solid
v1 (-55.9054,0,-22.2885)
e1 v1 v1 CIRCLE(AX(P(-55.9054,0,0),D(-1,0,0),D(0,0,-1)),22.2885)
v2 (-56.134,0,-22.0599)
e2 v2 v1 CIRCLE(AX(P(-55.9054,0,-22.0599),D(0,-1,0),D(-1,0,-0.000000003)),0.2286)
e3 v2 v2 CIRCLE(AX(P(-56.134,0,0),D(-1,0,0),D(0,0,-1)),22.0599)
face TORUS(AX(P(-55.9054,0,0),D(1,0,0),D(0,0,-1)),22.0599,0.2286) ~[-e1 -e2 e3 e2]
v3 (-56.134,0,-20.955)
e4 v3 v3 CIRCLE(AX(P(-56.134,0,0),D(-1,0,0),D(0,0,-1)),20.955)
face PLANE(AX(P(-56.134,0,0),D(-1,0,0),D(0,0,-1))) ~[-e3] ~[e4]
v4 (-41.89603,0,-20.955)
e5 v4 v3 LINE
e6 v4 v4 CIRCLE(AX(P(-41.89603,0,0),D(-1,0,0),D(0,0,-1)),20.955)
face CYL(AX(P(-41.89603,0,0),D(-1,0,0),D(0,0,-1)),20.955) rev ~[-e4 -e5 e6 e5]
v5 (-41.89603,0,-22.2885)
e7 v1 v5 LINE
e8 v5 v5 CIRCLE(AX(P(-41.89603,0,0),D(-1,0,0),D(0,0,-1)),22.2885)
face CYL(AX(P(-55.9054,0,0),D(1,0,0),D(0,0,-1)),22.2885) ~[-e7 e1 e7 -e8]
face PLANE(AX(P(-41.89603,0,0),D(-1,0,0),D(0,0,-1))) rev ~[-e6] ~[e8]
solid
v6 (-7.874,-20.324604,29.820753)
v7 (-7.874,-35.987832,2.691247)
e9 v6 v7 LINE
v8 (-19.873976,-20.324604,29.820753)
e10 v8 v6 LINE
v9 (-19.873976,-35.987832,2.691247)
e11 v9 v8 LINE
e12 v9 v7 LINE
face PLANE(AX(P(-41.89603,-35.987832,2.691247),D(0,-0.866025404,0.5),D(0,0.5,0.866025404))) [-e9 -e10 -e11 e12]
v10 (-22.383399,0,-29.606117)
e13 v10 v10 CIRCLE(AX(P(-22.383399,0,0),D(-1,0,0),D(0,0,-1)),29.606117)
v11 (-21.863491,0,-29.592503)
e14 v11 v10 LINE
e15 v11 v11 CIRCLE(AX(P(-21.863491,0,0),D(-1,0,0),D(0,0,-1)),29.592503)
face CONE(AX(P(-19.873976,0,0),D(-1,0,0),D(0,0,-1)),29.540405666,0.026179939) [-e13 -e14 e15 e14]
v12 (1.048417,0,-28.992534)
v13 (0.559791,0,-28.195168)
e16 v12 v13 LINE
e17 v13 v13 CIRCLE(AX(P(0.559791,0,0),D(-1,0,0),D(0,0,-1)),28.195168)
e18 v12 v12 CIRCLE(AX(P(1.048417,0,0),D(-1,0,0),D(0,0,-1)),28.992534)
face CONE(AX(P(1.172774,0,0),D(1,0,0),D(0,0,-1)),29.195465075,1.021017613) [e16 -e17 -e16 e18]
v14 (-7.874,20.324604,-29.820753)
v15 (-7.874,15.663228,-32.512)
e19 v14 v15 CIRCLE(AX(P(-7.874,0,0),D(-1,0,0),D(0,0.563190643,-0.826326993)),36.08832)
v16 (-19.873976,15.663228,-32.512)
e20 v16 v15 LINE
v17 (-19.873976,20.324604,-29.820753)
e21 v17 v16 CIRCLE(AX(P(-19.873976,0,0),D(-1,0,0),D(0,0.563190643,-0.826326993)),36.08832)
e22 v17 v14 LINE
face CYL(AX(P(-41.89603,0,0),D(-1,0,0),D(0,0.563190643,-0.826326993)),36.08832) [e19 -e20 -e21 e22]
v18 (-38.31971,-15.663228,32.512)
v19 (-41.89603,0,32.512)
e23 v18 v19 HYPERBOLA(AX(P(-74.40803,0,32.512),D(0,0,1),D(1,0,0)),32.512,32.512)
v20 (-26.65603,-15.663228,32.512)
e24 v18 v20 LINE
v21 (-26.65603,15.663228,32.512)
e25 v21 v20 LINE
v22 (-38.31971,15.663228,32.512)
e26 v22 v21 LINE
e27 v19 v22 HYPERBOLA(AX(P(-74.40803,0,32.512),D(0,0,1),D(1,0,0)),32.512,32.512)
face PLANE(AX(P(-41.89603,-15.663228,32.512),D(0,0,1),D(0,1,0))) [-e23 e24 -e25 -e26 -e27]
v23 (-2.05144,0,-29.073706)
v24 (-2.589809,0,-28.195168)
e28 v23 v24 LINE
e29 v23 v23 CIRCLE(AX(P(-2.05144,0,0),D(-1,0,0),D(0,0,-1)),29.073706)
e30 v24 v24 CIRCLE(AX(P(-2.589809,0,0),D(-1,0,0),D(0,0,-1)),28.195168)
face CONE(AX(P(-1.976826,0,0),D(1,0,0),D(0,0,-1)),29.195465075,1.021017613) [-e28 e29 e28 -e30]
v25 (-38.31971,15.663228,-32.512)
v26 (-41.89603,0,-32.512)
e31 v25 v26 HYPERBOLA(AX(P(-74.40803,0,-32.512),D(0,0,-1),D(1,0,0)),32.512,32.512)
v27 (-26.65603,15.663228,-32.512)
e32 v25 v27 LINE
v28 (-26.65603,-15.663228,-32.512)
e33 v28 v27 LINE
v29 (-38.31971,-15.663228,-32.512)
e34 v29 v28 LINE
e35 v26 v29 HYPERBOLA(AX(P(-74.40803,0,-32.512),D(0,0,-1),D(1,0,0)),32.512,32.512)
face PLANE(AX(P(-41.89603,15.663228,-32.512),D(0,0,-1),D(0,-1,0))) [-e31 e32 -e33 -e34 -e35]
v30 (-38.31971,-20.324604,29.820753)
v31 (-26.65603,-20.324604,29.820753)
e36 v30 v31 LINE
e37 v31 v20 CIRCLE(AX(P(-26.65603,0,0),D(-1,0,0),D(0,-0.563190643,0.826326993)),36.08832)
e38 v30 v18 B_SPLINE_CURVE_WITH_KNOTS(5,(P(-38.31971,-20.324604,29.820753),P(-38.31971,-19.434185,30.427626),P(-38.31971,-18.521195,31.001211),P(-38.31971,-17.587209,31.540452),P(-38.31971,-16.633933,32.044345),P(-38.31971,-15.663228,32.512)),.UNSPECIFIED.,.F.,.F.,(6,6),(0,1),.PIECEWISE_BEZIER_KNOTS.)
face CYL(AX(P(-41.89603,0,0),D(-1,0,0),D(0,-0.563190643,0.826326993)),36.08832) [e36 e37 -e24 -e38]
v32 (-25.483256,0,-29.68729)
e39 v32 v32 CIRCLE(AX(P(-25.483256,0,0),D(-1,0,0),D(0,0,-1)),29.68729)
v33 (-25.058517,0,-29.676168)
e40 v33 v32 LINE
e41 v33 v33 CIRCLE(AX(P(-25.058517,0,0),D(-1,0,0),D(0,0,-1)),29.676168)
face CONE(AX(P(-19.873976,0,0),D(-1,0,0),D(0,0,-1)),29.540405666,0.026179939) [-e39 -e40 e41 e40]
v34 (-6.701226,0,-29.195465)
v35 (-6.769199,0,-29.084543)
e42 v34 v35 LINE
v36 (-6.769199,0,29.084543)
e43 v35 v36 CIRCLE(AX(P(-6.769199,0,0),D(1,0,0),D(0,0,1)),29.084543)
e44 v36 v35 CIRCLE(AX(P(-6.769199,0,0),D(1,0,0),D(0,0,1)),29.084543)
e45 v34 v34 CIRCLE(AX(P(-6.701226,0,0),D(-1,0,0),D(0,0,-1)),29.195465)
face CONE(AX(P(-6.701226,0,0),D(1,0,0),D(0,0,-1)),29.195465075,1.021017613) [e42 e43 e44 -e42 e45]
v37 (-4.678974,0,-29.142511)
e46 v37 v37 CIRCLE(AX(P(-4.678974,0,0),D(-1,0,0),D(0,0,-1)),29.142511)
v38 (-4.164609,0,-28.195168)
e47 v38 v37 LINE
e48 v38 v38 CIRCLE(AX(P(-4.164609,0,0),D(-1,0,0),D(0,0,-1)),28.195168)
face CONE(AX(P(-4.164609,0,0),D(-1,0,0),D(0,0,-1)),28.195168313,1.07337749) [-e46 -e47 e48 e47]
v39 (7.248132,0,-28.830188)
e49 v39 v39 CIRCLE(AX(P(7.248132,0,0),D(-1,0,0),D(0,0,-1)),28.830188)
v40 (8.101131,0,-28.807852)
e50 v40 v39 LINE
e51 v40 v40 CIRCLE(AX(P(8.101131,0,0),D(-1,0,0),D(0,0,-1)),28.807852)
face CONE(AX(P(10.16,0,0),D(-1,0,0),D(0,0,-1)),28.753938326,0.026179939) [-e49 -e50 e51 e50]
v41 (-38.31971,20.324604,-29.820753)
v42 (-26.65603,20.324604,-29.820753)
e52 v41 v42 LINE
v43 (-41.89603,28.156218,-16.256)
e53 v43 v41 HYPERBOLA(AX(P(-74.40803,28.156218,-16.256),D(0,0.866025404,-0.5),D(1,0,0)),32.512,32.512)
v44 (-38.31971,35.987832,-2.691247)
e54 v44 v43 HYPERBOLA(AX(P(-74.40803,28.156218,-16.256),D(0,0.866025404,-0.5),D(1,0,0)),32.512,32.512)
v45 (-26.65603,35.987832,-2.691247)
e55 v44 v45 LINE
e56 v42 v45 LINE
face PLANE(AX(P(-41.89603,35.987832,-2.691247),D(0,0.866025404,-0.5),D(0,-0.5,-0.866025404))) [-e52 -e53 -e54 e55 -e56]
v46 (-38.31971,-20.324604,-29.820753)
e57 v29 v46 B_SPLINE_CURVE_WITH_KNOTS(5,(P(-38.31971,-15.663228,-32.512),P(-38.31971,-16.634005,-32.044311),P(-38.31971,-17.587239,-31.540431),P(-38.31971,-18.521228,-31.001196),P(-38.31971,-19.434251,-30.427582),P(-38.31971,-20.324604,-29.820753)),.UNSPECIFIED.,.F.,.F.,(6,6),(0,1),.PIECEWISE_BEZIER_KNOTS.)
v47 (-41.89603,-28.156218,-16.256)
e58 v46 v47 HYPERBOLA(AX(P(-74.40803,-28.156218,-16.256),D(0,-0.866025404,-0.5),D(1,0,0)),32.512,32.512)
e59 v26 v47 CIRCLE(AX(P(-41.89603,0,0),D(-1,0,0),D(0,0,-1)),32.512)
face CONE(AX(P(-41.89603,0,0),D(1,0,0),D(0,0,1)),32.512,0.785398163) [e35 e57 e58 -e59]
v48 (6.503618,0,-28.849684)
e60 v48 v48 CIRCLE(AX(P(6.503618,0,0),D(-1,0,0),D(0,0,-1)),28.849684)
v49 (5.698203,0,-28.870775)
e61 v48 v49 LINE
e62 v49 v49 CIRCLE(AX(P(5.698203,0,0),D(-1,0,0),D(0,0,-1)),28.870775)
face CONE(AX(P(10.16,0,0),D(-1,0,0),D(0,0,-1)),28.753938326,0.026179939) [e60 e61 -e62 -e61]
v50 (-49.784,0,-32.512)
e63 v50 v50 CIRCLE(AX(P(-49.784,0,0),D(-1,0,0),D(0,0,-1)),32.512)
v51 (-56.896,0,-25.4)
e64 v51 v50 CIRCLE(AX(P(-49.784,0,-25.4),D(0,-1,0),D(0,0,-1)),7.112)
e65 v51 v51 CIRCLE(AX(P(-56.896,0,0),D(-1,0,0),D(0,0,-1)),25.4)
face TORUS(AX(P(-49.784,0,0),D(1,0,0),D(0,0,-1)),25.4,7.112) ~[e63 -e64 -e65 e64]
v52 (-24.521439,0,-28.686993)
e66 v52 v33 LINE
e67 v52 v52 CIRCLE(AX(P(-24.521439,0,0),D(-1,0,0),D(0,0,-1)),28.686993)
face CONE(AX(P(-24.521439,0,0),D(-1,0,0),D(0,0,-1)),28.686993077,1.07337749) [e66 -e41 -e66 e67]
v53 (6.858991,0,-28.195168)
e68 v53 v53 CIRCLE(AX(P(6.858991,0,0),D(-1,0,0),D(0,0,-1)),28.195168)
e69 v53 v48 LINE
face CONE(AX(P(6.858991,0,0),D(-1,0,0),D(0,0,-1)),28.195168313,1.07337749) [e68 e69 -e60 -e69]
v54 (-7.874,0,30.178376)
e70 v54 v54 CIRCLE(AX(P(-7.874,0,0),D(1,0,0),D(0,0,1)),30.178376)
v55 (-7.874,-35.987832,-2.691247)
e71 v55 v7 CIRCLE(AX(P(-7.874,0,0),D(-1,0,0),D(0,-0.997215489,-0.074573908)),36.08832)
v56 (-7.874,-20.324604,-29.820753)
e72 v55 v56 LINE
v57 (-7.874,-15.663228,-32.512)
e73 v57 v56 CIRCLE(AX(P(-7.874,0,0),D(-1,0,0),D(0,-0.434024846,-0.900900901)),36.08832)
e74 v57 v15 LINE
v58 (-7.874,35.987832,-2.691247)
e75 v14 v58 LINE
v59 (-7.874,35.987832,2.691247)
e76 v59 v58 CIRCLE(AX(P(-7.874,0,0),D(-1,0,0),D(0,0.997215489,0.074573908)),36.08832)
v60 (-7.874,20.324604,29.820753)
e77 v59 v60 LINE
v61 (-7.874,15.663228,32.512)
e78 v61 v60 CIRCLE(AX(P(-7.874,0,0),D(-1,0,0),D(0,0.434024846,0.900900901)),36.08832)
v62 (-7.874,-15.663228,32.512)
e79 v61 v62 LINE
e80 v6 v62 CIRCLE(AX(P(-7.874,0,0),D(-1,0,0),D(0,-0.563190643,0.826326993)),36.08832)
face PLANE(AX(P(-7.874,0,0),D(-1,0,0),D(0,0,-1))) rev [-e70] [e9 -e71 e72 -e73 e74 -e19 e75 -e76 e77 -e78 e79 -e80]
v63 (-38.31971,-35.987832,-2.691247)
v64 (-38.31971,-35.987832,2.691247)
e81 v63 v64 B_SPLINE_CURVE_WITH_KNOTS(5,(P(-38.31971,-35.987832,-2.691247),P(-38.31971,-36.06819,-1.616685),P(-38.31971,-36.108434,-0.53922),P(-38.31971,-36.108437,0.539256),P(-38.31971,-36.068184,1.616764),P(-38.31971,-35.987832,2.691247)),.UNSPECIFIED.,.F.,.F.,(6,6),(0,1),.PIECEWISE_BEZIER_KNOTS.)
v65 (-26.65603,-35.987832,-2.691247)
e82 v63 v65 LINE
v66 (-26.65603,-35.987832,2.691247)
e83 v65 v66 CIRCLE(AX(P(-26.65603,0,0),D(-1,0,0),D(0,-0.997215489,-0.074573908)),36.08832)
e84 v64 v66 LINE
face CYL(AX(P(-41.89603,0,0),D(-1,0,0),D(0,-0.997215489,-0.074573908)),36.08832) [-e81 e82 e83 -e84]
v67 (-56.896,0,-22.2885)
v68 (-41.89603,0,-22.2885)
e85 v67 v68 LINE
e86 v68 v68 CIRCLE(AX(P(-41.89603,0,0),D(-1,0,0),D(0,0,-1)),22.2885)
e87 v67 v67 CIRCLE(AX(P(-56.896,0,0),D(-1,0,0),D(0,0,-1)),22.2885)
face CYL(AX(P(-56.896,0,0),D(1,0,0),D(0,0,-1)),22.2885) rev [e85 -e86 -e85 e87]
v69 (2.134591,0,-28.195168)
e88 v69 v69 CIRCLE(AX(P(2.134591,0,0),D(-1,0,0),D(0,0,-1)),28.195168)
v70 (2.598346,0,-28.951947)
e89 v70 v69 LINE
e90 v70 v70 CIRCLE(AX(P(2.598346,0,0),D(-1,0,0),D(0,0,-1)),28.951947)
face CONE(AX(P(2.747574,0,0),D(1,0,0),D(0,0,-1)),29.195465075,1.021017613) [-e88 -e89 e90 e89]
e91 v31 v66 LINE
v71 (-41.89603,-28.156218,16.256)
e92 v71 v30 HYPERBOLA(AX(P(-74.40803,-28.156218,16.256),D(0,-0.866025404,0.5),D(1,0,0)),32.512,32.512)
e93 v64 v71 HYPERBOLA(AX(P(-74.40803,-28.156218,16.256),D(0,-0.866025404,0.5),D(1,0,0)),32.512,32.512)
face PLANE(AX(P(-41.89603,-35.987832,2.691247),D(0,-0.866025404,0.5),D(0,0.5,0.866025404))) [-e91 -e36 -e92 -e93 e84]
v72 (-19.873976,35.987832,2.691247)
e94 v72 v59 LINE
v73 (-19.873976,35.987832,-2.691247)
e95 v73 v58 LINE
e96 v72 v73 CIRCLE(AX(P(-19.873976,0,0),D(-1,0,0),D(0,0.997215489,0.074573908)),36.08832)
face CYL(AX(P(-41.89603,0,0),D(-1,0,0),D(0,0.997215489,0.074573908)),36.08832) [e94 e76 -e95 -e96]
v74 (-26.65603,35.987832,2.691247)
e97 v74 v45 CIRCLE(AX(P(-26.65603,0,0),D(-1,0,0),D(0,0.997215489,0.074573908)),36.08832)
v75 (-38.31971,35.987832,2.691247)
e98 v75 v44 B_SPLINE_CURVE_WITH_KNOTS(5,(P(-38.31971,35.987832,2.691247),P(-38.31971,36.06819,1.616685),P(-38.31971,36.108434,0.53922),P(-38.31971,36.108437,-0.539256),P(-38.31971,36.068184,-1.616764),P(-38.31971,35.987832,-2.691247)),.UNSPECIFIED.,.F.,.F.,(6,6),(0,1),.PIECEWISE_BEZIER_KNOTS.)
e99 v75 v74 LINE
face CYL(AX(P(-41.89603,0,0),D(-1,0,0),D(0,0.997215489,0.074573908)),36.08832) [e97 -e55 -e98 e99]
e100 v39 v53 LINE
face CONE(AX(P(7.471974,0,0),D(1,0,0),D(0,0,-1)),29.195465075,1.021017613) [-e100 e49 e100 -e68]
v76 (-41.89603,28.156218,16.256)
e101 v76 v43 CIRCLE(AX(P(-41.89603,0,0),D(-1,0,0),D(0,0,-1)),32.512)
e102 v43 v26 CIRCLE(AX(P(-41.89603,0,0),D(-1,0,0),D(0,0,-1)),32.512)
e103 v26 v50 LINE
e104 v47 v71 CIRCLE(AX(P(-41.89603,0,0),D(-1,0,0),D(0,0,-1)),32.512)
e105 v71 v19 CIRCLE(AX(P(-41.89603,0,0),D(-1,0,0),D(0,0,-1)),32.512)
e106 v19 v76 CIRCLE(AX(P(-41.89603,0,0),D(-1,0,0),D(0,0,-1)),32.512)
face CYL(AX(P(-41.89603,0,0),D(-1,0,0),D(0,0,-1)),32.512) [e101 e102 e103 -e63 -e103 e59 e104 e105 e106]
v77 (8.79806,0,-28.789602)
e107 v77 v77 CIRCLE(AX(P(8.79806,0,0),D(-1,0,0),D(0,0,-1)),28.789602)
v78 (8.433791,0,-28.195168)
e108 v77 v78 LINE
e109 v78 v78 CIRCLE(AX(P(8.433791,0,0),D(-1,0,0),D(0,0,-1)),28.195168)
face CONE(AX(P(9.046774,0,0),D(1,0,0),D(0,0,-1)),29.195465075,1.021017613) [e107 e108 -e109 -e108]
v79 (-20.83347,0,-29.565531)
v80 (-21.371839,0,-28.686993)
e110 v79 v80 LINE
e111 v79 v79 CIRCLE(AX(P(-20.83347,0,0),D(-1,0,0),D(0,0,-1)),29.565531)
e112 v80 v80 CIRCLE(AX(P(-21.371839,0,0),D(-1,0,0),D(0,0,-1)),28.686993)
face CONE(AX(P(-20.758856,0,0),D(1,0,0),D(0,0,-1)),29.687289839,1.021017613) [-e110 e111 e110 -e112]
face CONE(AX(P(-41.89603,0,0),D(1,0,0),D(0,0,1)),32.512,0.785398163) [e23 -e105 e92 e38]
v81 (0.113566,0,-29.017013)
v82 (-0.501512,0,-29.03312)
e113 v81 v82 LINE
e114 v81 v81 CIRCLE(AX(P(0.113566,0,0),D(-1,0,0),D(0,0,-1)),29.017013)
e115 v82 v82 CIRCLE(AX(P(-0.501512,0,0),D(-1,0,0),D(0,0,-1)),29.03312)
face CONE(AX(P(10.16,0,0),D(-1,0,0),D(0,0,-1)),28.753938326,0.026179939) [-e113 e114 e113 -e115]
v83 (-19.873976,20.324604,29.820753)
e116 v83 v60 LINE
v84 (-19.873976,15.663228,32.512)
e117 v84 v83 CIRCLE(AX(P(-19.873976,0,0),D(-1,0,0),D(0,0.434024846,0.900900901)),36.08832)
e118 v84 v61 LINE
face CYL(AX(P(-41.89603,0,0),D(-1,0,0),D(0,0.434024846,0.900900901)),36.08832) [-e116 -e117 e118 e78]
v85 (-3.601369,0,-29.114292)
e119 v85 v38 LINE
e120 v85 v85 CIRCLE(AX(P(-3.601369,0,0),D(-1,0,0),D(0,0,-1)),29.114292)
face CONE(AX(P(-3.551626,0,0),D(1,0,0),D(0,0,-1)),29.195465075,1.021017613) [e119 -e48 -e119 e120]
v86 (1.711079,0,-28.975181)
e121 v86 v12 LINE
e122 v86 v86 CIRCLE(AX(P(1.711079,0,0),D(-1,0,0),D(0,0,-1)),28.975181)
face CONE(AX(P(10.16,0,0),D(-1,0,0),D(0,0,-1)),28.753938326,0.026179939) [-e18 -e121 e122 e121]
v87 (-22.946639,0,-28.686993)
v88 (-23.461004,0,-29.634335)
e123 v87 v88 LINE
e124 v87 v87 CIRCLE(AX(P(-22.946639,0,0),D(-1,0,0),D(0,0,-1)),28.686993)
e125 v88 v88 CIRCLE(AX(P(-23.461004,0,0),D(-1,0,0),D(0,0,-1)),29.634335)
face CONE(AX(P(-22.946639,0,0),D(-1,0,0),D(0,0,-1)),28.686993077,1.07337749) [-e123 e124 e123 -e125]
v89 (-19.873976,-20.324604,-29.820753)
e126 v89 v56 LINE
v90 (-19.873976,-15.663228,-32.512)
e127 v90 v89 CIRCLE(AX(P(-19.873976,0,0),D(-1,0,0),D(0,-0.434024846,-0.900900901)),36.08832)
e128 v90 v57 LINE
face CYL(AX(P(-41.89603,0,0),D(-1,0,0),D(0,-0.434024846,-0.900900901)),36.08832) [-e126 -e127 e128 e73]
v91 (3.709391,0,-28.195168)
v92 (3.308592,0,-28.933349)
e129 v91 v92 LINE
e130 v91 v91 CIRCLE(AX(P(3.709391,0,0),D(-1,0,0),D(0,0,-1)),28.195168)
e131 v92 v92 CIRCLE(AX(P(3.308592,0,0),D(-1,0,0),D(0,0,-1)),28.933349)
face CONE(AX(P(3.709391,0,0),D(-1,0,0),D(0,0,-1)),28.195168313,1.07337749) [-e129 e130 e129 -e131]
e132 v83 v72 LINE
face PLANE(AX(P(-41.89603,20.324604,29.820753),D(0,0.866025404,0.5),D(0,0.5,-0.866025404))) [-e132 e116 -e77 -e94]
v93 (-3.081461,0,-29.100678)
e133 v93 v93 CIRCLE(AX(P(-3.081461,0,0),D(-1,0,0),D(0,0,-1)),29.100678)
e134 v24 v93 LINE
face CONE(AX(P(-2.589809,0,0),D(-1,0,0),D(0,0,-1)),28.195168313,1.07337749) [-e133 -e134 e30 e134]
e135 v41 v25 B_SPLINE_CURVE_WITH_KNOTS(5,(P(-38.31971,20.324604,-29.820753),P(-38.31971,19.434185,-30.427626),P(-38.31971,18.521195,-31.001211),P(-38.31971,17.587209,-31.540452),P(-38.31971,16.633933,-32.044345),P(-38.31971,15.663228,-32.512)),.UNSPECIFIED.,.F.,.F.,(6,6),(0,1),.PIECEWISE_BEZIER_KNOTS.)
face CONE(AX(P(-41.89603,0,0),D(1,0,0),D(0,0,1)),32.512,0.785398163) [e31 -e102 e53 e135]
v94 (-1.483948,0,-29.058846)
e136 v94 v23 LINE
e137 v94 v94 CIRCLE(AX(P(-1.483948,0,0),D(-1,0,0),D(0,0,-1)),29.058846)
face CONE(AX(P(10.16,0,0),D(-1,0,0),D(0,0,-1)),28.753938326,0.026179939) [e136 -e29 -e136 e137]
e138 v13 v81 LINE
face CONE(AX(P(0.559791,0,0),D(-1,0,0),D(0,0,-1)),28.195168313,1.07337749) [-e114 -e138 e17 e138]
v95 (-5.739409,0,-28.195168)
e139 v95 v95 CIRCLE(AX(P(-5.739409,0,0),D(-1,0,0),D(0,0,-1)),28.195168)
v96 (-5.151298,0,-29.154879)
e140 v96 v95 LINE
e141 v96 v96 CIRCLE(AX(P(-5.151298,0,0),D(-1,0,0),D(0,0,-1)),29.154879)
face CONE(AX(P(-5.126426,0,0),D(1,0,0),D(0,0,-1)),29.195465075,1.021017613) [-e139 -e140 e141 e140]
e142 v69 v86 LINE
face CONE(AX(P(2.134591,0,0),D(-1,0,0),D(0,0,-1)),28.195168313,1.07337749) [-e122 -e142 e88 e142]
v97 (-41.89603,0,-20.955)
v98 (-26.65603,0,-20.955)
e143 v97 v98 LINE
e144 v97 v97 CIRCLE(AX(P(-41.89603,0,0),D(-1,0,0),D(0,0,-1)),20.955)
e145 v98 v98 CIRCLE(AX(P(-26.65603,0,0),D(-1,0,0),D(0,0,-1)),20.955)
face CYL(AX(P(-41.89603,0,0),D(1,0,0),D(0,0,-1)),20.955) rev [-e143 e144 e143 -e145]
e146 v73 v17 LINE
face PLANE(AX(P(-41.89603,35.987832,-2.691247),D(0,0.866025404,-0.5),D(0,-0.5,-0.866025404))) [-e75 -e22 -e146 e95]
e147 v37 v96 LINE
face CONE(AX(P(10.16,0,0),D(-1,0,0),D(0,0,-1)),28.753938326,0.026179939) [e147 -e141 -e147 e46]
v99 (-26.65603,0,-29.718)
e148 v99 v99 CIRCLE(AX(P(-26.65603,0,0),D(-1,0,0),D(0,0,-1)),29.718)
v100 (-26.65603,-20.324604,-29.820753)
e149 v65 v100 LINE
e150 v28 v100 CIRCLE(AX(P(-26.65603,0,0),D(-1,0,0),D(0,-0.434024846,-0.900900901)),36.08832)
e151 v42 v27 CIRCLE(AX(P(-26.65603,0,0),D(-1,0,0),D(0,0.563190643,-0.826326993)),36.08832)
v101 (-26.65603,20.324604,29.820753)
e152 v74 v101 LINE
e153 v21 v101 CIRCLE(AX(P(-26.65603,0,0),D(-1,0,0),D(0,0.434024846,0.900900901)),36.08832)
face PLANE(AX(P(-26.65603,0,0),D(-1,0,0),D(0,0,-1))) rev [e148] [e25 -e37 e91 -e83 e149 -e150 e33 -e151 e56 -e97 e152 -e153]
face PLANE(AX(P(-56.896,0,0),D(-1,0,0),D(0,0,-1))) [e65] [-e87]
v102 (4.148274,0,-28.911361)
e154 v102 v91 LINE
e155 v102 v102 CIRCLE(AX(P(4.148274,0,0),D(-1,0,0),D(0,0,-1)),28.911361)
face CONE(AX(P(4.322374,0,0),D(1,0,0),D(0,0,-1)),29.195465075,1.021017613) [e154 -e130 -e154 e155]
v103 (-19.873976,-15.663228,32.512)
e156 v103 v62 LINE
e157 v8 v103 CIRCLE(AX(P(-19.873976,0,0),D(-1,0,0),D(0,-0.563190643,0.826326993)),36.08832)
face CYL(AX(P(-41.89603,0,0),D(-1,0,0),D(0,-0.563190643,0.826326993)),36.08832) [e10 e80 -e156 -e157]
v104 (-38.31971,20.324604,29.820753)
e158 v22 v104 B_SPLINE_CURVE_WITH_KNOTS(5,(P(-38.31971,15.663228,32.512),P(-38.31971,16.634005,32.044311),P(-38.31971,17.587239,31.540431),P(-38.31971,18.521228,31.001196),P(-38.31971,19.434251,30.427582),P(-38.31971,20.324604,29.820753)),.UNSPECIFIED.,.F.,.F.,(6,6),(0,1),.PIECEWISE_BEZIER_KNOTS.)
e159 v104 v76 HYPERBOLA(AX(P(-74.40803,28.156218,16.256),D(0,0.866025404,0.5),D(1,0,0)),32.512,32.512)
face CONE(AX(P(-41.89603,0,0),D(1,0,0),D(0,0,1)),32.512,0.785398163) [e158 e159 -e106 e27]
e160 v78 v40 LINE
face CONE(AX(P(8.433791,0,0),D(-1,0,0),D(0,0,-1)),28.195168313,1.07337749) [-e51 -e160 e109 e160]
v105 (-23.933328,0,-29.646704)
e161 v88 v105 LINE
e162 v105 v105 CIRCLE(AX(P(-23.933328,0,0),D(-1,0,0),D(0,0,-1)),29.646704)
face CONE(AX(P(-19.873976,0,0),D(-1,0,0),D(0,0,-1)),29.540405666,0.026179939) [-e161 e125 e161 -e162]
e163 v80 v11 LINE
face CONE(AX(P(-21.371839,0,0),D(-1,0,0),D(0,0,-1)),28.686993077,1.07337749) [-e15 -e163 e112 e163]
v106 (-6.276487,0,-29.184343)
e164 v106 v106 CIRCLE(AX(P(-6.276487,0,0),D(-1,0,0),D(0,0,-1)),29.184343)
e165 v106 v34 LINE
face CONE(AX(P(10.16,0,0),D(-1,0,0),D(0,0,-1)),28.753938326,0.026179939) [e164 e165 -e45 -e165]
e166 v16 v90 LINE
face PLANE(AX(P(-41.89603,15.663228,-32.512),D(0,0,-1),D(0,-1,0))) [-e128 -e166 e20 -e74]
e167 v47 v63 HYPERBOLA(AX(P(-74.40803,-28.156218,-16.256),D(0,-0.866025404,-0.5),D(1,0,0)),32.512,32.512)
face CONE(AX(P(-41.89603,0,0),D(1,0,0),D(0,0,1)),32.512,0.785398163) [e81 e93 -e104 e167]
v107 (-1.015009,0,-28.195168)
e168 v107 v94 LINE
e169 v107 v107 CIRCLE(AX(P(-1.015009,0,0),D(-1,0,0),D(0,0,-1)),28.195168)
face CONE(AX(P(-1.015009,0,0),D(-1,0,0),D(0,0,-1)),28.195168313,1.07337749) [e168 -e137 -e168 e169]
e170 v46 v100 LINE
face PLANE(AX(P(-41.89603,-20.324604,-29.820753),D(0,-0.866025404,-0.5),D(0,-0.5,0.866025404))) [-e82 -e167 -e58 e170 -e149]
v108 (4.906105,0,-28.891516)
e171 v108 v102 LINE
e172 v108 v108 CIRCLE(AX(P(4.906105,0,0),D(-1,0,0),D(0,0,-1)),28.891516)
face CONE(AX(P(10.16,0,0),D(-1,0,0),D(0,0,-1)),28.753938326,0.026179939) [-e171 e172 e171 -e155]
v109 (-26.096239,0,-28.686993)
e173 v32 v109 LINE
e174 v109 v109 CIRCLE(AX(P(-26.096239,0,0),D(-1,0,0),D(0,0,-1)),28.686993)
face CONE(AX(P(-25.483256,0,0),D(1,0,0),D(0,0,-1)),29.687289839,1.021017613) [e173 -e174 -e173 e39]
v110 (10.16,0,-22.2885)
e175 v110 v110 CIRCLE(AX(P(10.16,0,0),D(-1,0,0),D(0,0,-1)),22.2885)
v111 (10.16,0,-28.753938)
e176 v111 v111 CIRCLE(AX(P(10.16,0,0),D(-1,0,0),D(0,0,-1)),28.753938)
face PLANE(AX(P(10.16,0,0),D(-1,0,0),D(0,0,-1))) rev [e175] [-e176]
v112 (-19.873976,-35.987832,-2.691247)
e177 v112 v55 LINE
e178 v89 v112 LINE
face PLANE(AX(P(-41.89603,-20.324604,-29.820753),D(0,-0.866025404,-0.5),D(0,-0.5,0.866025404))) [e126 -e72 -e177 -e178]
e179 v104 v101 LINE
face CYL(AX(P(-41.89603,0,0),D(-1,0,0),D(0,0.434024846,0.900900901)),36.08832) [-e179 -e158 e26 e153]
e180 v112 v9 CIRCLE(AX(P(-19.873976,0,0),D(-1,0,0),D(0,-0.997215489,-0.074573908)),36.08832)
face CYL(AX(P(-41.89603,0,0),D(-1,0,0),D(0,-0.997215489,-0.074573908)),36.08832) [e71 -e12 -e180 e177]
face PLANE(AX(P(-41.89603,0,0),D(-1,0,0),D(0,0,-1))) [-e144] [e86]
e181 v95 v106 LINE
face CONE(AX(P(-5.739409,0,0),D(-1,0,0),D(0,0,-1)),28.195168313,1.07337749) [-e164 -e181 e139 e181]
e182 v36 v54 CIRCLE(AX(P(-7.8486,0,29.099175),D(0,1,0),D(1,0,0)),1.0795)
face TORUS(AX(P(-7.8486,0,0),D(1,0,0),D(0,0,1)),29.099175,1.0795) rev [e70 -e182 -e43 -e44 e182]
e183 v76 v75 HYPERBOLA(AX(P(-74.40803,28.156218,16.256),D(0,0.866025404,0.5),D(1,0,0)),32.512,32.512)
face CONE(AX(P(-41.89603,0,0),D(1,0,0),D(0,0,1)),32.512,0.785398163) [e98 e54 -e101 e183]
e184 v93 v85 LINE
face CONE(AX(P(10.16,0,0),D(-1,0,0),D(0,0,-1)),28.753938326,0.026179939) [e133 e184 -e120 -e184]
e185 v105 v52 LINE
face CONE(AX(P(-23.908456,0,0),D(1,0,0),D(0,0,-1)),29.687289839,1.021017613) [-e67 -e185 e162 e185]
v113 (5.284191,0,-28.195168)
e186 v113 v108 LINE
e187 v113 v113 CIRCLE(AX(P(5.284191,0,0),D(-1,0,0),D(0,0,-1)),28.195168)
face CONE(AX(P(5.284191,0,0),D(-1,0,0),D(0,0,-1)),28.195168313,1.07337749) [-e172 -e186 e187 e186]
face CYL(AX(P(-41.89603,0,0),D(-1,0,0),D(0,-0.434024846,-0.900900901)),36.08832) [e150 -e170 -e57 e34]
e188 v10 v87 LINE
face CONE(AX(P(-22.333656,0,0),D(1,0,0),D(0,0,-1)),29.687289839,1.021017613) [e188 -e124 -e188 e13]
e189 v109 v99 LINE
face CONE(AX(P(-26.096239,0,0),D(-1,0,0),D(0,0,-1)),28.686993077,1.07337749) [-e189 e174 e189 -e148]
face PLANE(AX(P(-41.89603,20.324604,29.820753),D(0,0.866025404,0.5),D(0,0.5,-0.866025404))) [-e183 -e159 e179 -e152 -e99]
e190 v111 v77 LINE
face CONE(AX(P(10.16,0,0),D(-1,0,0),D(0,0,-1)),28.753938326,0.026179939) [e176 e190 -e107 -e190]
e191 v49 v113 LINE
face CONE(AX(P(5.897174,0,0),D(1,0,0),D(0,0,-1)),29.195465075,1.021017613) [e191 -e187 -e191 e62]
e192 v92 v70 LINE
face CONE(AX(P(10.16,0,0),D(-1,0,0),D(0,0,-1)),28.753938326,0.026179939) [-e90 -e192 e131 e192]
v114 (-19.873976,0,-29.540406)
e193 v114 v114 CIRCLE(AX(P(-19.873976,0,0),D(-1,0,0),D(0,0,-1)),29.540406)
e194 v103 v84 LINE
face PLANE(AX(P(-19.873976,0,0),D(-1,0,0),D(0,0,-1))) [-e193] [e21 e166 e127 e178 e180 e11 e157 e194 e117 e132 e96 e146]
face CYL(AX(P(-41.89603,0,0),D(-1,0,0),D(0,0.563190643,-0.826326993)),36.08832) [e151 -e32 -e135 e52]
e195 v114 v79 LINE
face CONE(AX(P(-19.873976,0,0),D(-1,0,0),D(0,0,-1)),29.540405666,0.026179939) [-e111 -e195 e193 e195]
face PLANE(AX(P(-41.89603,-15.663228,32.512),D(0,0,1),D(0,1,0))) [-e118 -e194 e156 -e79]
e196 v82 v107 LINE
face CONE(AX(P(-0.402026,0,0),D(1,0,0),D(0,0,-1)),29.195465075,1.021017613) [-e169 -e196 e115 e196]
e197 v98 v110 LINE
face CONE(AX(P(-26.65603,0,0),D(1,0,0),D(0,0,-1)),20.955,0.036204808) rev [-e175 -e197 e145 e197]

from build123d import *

# Parameters (mm, degrees)
LPATTERN6_COUNT    = 4
LPATTERN6_PITCH    = 1.5748
LPATTERN7_COUNT    = 11
LPATTERN7_PITCH    = 1.5748
SKETCH12_OUTSIDE_W = 171.2
SKETCH12_OUTSIDE_H = 171.2
CUT_EXTRUDE2_DEPTH = 53.05603
FILLET4_R          = 7.112
SKETCH19_OUTSIDE_W = 98.628
SKETCH19_OUTSIDE_H = 105.78
SKETCH19_OUTSIDE_R = 32.512
CUT_EXTRUDE3_DEPTH = 3.99796
CUT_EXTRUDE3_DRAFT = -45
SKETCH28_R         = 1.0795


with BuildPart() as part:
    # Sketch10 → Revolve2 (revolve)
    with BuildSketch(Plane.XY, mode=Mode.PRIVATE) as revolve2_sk:
        Polygon((-41.89603, 20.955), (-26.65603, 20.955), (10.16, 22.2885), (10.16, 28.753938326), (-7.874, 29.226175236), (-7.874, 65.024), (-19.873976, 65.024), (-19.873976, 29.540405666), (-26.65603, 29.718), (-26.65603, 65.024), (-41.89603, 65.024), (-41.89603, 32.512), (-56.896, 32.512), (-56.896, 22.2885), (-41.89603, 22.2885), align=None)
    revolve(revolve2_sk.sketch.rotate(Axis((0, 0, 0), (-1, 0, 0)), 90), axis=Axis((0, 0, 0), (-1, 0, 0)))  # turned: the seam where the file's is

    # Sketch26 → Cut-Revolve1 (revolve, cut)
    with BuildSketch(Plane.XY, mode=Mode.PRIVATE) as cut_revolve1_sk:
        Polygon((-26.65603, 29.718), (-25.483256271, 29.687289839), (-26.096238915, 28.686993077), align=None)
    cut_revolve1 = revolve(cut_revolve1_sk.sketch.rotate(Axis((0, 0, 0), (-1, 0, 0)), 90), axis=Axis((0, 0, 0), (-1, 0, 0)), mode=Mode.SUBTRACT)  # turned: the seam where the file's is

    # LPattern6: Cut-Revolve1 ×4
    with Locations(*[(i * LPATTERN6_PITCH, 0, 0) for i in range(1, LPATTERN6_COUNT)]):
        add(cut_revolve1, mode=Mode.SUBTRACT)

    # Sketch27 → Cut-Revolve2 (revolve, cut)
    with BuildSketch(Plane.XY, mode=Mode.PRIVATE) as cut_revolve2_sk:
        Polygon((-7.874, 29.226175236), (-6.701226271, 29.195465075), (-7.314208915, 28.195168313), align=None)
    cut_revolve2 = revolve(cut_revolve2_sk.sketch.rotate(Axis((0, 0, 0), (-1, 0, 0)), 90), axis=Axis((0, 0, 0), (-1, 0, 0)), mode=Mode.SUBTRACT)  # turned: the seam where the file's is

    # LPattern7: Cut-Revolve2 ×11
    with Locations(*[(i * LPATTERN7_PITCH, 0, 0) for i in range(1, LPATTERN7_COUNT)]):
        add(cut_revolve2, mode=Mode.SUBTRACT)

    # Sketch12 outside → Cut-Extrude2 (cut, through all)
    with BuildSketch(Plane.ZY.offset(41.89603)):
        Rectangle(SKETCH12_OUTSIDE_W, SKETCH12_OUTSIDE_H)
        with BuildLine():
            Line((-2.69124706, 35.987831689), (-29.82075294, 20.324604167))
            ThreePointArc((-29.82075294, 20.324604167), (-31.2534019, 18.04416), (-32.512, 15.663227523))
            Line((-32.512, 15.663227523), (-32.512, -15.663227523))
            ThreePointArc((-32.512, -15.663227523), (-31.2534019, -18.04416), (-29.82075294, -20.324604167))
            Line((-29.82075294, -20.324604167), (-2.69124706, -35.987831689))
            ThreePointArc((-2.69124706, -35.987831689), (0, -36.08832), (2.69124706, -35.987831689))
            Line((2.69124706, -35.987831689), (29.82075294, -20.324604167))
            ThreePointArc((29.82075294, -20.324604167), (31.2534019, -18.04416), (32.512, -15.663227523))
            Line((32.512, -15.663227523), (32.512, 15.663227523))
            ThreePointArc((32.512, 15.663227523), (31.2534019, 18.04416), (29.82075294, 20.324604167))
            Line((29.82075294, 20.324604167), (2.69124706, 35.987831689))
            ThreePointArc((2.69124706, 35.987831689), (0, 36.08832), (-2.69124706, 35.987831689))
        make_face(mode=Mode.SUBTRACT)
    extrude(amount=-CUT_EXTRUDE2_DEPTH, mode=Mode.SUBTRACT)

    # Fillet4
    fillet4_edges = [part.edges().sort_by_distance(p)[0] for p in [
        (-56.896, 0, 32.512),
    ]]
    fillet(fillet4_edges, radius=FILLET4_R)


with BuildPart() as body_2:
    # Sketch23 → Revolve6 (revolve)
    with BuildSketch(Plane.XY, mode=Mode.PRIVATE) as revolve6_sk:
        with BuildLine():
            Line((-55.9054, 22.2885), (-41.89603, 22.2885))
            Line((-41.89603, 22.2885), (-41.89603, 20.955))
            Line((-41.89603, 20.955), (-56.134, 20.955))
            Line((-56.134, 20.955), (-56.134, 22.0599))
            ThreePointArc((-56.134, 22.0599), (-56.06704461, 22.22154461), (-55.9054, 22.2885))
        make_face()
    revolve(revolve6_sk.sketch.rotate(Axis((0, 0, 0), (-1, 0, 0)), 90), axis=Axis((0, 0, 0), (-1, 0, 0)))  # turned: the seam where the file's is


with BuildPart() as cut_extrude3_tool:
    # Sketch19 outside → Cut-Extrude3 (with draft: the straight prism first)
    with BuildSketch(Plane.ZY.offset(41.89603)):
        Rectangle(SKETCH19_OUTSIDE_W, SKETCH19_OUTSIDE_H)
        Circle(SKETCH19_OUTSIDE_R, mode=Mode.SUBTRACT)
    extrude(amount=-CUT_EXTRUDE3_DEPTH)
    # Cut-Extrude3: the draft: its side faces are tilted about the plane it starts from
    cut_extrude3_sides = [cut_extrude3_tool.faces().sort_by_distance(p)[0] for p in [
        (-39.89705, -52.89, 0),
        (-39.89705, 0, 49.314),
        (-39.89705, 52.89, 0),
        (-39.89705, 0, -49.314),
        (-39.89705, 0, -32.512),
    ]]
    draft(cut_extrude3_sides, Plane.ZY.offset(41.89603), CUT_EXTRUDE3_DRAFT)


with BuildPart() as part_1:
    add(part.part)

    # Cut-Extrude3: cut by cut_extrude3_tool
    add(cut_extrude3_tool.part, mode=Mode.SUBTRACT)

    # Sketch28 → Cut-Revolve3 (revolve, cut)
    with BuildSketch(Plane.XY, mode=Mode.PRIVATE) as cut_revolve3_sk:
        with Locations((-7.8486, -29.099175236)):
            Circle(SKETCH28_R)
    revolve(cut_revolve3_sk.sketch.rotate(Axis((10.16, 0, 0), (-1, 0, 0)), 90), axis=Axis((10.16, 0, 0), (-1, 0, 0)), mode=Mode.SUBTRACT)  # turned: the seam where the file's is


solid = Compound([body_2.part, part_1.part])
